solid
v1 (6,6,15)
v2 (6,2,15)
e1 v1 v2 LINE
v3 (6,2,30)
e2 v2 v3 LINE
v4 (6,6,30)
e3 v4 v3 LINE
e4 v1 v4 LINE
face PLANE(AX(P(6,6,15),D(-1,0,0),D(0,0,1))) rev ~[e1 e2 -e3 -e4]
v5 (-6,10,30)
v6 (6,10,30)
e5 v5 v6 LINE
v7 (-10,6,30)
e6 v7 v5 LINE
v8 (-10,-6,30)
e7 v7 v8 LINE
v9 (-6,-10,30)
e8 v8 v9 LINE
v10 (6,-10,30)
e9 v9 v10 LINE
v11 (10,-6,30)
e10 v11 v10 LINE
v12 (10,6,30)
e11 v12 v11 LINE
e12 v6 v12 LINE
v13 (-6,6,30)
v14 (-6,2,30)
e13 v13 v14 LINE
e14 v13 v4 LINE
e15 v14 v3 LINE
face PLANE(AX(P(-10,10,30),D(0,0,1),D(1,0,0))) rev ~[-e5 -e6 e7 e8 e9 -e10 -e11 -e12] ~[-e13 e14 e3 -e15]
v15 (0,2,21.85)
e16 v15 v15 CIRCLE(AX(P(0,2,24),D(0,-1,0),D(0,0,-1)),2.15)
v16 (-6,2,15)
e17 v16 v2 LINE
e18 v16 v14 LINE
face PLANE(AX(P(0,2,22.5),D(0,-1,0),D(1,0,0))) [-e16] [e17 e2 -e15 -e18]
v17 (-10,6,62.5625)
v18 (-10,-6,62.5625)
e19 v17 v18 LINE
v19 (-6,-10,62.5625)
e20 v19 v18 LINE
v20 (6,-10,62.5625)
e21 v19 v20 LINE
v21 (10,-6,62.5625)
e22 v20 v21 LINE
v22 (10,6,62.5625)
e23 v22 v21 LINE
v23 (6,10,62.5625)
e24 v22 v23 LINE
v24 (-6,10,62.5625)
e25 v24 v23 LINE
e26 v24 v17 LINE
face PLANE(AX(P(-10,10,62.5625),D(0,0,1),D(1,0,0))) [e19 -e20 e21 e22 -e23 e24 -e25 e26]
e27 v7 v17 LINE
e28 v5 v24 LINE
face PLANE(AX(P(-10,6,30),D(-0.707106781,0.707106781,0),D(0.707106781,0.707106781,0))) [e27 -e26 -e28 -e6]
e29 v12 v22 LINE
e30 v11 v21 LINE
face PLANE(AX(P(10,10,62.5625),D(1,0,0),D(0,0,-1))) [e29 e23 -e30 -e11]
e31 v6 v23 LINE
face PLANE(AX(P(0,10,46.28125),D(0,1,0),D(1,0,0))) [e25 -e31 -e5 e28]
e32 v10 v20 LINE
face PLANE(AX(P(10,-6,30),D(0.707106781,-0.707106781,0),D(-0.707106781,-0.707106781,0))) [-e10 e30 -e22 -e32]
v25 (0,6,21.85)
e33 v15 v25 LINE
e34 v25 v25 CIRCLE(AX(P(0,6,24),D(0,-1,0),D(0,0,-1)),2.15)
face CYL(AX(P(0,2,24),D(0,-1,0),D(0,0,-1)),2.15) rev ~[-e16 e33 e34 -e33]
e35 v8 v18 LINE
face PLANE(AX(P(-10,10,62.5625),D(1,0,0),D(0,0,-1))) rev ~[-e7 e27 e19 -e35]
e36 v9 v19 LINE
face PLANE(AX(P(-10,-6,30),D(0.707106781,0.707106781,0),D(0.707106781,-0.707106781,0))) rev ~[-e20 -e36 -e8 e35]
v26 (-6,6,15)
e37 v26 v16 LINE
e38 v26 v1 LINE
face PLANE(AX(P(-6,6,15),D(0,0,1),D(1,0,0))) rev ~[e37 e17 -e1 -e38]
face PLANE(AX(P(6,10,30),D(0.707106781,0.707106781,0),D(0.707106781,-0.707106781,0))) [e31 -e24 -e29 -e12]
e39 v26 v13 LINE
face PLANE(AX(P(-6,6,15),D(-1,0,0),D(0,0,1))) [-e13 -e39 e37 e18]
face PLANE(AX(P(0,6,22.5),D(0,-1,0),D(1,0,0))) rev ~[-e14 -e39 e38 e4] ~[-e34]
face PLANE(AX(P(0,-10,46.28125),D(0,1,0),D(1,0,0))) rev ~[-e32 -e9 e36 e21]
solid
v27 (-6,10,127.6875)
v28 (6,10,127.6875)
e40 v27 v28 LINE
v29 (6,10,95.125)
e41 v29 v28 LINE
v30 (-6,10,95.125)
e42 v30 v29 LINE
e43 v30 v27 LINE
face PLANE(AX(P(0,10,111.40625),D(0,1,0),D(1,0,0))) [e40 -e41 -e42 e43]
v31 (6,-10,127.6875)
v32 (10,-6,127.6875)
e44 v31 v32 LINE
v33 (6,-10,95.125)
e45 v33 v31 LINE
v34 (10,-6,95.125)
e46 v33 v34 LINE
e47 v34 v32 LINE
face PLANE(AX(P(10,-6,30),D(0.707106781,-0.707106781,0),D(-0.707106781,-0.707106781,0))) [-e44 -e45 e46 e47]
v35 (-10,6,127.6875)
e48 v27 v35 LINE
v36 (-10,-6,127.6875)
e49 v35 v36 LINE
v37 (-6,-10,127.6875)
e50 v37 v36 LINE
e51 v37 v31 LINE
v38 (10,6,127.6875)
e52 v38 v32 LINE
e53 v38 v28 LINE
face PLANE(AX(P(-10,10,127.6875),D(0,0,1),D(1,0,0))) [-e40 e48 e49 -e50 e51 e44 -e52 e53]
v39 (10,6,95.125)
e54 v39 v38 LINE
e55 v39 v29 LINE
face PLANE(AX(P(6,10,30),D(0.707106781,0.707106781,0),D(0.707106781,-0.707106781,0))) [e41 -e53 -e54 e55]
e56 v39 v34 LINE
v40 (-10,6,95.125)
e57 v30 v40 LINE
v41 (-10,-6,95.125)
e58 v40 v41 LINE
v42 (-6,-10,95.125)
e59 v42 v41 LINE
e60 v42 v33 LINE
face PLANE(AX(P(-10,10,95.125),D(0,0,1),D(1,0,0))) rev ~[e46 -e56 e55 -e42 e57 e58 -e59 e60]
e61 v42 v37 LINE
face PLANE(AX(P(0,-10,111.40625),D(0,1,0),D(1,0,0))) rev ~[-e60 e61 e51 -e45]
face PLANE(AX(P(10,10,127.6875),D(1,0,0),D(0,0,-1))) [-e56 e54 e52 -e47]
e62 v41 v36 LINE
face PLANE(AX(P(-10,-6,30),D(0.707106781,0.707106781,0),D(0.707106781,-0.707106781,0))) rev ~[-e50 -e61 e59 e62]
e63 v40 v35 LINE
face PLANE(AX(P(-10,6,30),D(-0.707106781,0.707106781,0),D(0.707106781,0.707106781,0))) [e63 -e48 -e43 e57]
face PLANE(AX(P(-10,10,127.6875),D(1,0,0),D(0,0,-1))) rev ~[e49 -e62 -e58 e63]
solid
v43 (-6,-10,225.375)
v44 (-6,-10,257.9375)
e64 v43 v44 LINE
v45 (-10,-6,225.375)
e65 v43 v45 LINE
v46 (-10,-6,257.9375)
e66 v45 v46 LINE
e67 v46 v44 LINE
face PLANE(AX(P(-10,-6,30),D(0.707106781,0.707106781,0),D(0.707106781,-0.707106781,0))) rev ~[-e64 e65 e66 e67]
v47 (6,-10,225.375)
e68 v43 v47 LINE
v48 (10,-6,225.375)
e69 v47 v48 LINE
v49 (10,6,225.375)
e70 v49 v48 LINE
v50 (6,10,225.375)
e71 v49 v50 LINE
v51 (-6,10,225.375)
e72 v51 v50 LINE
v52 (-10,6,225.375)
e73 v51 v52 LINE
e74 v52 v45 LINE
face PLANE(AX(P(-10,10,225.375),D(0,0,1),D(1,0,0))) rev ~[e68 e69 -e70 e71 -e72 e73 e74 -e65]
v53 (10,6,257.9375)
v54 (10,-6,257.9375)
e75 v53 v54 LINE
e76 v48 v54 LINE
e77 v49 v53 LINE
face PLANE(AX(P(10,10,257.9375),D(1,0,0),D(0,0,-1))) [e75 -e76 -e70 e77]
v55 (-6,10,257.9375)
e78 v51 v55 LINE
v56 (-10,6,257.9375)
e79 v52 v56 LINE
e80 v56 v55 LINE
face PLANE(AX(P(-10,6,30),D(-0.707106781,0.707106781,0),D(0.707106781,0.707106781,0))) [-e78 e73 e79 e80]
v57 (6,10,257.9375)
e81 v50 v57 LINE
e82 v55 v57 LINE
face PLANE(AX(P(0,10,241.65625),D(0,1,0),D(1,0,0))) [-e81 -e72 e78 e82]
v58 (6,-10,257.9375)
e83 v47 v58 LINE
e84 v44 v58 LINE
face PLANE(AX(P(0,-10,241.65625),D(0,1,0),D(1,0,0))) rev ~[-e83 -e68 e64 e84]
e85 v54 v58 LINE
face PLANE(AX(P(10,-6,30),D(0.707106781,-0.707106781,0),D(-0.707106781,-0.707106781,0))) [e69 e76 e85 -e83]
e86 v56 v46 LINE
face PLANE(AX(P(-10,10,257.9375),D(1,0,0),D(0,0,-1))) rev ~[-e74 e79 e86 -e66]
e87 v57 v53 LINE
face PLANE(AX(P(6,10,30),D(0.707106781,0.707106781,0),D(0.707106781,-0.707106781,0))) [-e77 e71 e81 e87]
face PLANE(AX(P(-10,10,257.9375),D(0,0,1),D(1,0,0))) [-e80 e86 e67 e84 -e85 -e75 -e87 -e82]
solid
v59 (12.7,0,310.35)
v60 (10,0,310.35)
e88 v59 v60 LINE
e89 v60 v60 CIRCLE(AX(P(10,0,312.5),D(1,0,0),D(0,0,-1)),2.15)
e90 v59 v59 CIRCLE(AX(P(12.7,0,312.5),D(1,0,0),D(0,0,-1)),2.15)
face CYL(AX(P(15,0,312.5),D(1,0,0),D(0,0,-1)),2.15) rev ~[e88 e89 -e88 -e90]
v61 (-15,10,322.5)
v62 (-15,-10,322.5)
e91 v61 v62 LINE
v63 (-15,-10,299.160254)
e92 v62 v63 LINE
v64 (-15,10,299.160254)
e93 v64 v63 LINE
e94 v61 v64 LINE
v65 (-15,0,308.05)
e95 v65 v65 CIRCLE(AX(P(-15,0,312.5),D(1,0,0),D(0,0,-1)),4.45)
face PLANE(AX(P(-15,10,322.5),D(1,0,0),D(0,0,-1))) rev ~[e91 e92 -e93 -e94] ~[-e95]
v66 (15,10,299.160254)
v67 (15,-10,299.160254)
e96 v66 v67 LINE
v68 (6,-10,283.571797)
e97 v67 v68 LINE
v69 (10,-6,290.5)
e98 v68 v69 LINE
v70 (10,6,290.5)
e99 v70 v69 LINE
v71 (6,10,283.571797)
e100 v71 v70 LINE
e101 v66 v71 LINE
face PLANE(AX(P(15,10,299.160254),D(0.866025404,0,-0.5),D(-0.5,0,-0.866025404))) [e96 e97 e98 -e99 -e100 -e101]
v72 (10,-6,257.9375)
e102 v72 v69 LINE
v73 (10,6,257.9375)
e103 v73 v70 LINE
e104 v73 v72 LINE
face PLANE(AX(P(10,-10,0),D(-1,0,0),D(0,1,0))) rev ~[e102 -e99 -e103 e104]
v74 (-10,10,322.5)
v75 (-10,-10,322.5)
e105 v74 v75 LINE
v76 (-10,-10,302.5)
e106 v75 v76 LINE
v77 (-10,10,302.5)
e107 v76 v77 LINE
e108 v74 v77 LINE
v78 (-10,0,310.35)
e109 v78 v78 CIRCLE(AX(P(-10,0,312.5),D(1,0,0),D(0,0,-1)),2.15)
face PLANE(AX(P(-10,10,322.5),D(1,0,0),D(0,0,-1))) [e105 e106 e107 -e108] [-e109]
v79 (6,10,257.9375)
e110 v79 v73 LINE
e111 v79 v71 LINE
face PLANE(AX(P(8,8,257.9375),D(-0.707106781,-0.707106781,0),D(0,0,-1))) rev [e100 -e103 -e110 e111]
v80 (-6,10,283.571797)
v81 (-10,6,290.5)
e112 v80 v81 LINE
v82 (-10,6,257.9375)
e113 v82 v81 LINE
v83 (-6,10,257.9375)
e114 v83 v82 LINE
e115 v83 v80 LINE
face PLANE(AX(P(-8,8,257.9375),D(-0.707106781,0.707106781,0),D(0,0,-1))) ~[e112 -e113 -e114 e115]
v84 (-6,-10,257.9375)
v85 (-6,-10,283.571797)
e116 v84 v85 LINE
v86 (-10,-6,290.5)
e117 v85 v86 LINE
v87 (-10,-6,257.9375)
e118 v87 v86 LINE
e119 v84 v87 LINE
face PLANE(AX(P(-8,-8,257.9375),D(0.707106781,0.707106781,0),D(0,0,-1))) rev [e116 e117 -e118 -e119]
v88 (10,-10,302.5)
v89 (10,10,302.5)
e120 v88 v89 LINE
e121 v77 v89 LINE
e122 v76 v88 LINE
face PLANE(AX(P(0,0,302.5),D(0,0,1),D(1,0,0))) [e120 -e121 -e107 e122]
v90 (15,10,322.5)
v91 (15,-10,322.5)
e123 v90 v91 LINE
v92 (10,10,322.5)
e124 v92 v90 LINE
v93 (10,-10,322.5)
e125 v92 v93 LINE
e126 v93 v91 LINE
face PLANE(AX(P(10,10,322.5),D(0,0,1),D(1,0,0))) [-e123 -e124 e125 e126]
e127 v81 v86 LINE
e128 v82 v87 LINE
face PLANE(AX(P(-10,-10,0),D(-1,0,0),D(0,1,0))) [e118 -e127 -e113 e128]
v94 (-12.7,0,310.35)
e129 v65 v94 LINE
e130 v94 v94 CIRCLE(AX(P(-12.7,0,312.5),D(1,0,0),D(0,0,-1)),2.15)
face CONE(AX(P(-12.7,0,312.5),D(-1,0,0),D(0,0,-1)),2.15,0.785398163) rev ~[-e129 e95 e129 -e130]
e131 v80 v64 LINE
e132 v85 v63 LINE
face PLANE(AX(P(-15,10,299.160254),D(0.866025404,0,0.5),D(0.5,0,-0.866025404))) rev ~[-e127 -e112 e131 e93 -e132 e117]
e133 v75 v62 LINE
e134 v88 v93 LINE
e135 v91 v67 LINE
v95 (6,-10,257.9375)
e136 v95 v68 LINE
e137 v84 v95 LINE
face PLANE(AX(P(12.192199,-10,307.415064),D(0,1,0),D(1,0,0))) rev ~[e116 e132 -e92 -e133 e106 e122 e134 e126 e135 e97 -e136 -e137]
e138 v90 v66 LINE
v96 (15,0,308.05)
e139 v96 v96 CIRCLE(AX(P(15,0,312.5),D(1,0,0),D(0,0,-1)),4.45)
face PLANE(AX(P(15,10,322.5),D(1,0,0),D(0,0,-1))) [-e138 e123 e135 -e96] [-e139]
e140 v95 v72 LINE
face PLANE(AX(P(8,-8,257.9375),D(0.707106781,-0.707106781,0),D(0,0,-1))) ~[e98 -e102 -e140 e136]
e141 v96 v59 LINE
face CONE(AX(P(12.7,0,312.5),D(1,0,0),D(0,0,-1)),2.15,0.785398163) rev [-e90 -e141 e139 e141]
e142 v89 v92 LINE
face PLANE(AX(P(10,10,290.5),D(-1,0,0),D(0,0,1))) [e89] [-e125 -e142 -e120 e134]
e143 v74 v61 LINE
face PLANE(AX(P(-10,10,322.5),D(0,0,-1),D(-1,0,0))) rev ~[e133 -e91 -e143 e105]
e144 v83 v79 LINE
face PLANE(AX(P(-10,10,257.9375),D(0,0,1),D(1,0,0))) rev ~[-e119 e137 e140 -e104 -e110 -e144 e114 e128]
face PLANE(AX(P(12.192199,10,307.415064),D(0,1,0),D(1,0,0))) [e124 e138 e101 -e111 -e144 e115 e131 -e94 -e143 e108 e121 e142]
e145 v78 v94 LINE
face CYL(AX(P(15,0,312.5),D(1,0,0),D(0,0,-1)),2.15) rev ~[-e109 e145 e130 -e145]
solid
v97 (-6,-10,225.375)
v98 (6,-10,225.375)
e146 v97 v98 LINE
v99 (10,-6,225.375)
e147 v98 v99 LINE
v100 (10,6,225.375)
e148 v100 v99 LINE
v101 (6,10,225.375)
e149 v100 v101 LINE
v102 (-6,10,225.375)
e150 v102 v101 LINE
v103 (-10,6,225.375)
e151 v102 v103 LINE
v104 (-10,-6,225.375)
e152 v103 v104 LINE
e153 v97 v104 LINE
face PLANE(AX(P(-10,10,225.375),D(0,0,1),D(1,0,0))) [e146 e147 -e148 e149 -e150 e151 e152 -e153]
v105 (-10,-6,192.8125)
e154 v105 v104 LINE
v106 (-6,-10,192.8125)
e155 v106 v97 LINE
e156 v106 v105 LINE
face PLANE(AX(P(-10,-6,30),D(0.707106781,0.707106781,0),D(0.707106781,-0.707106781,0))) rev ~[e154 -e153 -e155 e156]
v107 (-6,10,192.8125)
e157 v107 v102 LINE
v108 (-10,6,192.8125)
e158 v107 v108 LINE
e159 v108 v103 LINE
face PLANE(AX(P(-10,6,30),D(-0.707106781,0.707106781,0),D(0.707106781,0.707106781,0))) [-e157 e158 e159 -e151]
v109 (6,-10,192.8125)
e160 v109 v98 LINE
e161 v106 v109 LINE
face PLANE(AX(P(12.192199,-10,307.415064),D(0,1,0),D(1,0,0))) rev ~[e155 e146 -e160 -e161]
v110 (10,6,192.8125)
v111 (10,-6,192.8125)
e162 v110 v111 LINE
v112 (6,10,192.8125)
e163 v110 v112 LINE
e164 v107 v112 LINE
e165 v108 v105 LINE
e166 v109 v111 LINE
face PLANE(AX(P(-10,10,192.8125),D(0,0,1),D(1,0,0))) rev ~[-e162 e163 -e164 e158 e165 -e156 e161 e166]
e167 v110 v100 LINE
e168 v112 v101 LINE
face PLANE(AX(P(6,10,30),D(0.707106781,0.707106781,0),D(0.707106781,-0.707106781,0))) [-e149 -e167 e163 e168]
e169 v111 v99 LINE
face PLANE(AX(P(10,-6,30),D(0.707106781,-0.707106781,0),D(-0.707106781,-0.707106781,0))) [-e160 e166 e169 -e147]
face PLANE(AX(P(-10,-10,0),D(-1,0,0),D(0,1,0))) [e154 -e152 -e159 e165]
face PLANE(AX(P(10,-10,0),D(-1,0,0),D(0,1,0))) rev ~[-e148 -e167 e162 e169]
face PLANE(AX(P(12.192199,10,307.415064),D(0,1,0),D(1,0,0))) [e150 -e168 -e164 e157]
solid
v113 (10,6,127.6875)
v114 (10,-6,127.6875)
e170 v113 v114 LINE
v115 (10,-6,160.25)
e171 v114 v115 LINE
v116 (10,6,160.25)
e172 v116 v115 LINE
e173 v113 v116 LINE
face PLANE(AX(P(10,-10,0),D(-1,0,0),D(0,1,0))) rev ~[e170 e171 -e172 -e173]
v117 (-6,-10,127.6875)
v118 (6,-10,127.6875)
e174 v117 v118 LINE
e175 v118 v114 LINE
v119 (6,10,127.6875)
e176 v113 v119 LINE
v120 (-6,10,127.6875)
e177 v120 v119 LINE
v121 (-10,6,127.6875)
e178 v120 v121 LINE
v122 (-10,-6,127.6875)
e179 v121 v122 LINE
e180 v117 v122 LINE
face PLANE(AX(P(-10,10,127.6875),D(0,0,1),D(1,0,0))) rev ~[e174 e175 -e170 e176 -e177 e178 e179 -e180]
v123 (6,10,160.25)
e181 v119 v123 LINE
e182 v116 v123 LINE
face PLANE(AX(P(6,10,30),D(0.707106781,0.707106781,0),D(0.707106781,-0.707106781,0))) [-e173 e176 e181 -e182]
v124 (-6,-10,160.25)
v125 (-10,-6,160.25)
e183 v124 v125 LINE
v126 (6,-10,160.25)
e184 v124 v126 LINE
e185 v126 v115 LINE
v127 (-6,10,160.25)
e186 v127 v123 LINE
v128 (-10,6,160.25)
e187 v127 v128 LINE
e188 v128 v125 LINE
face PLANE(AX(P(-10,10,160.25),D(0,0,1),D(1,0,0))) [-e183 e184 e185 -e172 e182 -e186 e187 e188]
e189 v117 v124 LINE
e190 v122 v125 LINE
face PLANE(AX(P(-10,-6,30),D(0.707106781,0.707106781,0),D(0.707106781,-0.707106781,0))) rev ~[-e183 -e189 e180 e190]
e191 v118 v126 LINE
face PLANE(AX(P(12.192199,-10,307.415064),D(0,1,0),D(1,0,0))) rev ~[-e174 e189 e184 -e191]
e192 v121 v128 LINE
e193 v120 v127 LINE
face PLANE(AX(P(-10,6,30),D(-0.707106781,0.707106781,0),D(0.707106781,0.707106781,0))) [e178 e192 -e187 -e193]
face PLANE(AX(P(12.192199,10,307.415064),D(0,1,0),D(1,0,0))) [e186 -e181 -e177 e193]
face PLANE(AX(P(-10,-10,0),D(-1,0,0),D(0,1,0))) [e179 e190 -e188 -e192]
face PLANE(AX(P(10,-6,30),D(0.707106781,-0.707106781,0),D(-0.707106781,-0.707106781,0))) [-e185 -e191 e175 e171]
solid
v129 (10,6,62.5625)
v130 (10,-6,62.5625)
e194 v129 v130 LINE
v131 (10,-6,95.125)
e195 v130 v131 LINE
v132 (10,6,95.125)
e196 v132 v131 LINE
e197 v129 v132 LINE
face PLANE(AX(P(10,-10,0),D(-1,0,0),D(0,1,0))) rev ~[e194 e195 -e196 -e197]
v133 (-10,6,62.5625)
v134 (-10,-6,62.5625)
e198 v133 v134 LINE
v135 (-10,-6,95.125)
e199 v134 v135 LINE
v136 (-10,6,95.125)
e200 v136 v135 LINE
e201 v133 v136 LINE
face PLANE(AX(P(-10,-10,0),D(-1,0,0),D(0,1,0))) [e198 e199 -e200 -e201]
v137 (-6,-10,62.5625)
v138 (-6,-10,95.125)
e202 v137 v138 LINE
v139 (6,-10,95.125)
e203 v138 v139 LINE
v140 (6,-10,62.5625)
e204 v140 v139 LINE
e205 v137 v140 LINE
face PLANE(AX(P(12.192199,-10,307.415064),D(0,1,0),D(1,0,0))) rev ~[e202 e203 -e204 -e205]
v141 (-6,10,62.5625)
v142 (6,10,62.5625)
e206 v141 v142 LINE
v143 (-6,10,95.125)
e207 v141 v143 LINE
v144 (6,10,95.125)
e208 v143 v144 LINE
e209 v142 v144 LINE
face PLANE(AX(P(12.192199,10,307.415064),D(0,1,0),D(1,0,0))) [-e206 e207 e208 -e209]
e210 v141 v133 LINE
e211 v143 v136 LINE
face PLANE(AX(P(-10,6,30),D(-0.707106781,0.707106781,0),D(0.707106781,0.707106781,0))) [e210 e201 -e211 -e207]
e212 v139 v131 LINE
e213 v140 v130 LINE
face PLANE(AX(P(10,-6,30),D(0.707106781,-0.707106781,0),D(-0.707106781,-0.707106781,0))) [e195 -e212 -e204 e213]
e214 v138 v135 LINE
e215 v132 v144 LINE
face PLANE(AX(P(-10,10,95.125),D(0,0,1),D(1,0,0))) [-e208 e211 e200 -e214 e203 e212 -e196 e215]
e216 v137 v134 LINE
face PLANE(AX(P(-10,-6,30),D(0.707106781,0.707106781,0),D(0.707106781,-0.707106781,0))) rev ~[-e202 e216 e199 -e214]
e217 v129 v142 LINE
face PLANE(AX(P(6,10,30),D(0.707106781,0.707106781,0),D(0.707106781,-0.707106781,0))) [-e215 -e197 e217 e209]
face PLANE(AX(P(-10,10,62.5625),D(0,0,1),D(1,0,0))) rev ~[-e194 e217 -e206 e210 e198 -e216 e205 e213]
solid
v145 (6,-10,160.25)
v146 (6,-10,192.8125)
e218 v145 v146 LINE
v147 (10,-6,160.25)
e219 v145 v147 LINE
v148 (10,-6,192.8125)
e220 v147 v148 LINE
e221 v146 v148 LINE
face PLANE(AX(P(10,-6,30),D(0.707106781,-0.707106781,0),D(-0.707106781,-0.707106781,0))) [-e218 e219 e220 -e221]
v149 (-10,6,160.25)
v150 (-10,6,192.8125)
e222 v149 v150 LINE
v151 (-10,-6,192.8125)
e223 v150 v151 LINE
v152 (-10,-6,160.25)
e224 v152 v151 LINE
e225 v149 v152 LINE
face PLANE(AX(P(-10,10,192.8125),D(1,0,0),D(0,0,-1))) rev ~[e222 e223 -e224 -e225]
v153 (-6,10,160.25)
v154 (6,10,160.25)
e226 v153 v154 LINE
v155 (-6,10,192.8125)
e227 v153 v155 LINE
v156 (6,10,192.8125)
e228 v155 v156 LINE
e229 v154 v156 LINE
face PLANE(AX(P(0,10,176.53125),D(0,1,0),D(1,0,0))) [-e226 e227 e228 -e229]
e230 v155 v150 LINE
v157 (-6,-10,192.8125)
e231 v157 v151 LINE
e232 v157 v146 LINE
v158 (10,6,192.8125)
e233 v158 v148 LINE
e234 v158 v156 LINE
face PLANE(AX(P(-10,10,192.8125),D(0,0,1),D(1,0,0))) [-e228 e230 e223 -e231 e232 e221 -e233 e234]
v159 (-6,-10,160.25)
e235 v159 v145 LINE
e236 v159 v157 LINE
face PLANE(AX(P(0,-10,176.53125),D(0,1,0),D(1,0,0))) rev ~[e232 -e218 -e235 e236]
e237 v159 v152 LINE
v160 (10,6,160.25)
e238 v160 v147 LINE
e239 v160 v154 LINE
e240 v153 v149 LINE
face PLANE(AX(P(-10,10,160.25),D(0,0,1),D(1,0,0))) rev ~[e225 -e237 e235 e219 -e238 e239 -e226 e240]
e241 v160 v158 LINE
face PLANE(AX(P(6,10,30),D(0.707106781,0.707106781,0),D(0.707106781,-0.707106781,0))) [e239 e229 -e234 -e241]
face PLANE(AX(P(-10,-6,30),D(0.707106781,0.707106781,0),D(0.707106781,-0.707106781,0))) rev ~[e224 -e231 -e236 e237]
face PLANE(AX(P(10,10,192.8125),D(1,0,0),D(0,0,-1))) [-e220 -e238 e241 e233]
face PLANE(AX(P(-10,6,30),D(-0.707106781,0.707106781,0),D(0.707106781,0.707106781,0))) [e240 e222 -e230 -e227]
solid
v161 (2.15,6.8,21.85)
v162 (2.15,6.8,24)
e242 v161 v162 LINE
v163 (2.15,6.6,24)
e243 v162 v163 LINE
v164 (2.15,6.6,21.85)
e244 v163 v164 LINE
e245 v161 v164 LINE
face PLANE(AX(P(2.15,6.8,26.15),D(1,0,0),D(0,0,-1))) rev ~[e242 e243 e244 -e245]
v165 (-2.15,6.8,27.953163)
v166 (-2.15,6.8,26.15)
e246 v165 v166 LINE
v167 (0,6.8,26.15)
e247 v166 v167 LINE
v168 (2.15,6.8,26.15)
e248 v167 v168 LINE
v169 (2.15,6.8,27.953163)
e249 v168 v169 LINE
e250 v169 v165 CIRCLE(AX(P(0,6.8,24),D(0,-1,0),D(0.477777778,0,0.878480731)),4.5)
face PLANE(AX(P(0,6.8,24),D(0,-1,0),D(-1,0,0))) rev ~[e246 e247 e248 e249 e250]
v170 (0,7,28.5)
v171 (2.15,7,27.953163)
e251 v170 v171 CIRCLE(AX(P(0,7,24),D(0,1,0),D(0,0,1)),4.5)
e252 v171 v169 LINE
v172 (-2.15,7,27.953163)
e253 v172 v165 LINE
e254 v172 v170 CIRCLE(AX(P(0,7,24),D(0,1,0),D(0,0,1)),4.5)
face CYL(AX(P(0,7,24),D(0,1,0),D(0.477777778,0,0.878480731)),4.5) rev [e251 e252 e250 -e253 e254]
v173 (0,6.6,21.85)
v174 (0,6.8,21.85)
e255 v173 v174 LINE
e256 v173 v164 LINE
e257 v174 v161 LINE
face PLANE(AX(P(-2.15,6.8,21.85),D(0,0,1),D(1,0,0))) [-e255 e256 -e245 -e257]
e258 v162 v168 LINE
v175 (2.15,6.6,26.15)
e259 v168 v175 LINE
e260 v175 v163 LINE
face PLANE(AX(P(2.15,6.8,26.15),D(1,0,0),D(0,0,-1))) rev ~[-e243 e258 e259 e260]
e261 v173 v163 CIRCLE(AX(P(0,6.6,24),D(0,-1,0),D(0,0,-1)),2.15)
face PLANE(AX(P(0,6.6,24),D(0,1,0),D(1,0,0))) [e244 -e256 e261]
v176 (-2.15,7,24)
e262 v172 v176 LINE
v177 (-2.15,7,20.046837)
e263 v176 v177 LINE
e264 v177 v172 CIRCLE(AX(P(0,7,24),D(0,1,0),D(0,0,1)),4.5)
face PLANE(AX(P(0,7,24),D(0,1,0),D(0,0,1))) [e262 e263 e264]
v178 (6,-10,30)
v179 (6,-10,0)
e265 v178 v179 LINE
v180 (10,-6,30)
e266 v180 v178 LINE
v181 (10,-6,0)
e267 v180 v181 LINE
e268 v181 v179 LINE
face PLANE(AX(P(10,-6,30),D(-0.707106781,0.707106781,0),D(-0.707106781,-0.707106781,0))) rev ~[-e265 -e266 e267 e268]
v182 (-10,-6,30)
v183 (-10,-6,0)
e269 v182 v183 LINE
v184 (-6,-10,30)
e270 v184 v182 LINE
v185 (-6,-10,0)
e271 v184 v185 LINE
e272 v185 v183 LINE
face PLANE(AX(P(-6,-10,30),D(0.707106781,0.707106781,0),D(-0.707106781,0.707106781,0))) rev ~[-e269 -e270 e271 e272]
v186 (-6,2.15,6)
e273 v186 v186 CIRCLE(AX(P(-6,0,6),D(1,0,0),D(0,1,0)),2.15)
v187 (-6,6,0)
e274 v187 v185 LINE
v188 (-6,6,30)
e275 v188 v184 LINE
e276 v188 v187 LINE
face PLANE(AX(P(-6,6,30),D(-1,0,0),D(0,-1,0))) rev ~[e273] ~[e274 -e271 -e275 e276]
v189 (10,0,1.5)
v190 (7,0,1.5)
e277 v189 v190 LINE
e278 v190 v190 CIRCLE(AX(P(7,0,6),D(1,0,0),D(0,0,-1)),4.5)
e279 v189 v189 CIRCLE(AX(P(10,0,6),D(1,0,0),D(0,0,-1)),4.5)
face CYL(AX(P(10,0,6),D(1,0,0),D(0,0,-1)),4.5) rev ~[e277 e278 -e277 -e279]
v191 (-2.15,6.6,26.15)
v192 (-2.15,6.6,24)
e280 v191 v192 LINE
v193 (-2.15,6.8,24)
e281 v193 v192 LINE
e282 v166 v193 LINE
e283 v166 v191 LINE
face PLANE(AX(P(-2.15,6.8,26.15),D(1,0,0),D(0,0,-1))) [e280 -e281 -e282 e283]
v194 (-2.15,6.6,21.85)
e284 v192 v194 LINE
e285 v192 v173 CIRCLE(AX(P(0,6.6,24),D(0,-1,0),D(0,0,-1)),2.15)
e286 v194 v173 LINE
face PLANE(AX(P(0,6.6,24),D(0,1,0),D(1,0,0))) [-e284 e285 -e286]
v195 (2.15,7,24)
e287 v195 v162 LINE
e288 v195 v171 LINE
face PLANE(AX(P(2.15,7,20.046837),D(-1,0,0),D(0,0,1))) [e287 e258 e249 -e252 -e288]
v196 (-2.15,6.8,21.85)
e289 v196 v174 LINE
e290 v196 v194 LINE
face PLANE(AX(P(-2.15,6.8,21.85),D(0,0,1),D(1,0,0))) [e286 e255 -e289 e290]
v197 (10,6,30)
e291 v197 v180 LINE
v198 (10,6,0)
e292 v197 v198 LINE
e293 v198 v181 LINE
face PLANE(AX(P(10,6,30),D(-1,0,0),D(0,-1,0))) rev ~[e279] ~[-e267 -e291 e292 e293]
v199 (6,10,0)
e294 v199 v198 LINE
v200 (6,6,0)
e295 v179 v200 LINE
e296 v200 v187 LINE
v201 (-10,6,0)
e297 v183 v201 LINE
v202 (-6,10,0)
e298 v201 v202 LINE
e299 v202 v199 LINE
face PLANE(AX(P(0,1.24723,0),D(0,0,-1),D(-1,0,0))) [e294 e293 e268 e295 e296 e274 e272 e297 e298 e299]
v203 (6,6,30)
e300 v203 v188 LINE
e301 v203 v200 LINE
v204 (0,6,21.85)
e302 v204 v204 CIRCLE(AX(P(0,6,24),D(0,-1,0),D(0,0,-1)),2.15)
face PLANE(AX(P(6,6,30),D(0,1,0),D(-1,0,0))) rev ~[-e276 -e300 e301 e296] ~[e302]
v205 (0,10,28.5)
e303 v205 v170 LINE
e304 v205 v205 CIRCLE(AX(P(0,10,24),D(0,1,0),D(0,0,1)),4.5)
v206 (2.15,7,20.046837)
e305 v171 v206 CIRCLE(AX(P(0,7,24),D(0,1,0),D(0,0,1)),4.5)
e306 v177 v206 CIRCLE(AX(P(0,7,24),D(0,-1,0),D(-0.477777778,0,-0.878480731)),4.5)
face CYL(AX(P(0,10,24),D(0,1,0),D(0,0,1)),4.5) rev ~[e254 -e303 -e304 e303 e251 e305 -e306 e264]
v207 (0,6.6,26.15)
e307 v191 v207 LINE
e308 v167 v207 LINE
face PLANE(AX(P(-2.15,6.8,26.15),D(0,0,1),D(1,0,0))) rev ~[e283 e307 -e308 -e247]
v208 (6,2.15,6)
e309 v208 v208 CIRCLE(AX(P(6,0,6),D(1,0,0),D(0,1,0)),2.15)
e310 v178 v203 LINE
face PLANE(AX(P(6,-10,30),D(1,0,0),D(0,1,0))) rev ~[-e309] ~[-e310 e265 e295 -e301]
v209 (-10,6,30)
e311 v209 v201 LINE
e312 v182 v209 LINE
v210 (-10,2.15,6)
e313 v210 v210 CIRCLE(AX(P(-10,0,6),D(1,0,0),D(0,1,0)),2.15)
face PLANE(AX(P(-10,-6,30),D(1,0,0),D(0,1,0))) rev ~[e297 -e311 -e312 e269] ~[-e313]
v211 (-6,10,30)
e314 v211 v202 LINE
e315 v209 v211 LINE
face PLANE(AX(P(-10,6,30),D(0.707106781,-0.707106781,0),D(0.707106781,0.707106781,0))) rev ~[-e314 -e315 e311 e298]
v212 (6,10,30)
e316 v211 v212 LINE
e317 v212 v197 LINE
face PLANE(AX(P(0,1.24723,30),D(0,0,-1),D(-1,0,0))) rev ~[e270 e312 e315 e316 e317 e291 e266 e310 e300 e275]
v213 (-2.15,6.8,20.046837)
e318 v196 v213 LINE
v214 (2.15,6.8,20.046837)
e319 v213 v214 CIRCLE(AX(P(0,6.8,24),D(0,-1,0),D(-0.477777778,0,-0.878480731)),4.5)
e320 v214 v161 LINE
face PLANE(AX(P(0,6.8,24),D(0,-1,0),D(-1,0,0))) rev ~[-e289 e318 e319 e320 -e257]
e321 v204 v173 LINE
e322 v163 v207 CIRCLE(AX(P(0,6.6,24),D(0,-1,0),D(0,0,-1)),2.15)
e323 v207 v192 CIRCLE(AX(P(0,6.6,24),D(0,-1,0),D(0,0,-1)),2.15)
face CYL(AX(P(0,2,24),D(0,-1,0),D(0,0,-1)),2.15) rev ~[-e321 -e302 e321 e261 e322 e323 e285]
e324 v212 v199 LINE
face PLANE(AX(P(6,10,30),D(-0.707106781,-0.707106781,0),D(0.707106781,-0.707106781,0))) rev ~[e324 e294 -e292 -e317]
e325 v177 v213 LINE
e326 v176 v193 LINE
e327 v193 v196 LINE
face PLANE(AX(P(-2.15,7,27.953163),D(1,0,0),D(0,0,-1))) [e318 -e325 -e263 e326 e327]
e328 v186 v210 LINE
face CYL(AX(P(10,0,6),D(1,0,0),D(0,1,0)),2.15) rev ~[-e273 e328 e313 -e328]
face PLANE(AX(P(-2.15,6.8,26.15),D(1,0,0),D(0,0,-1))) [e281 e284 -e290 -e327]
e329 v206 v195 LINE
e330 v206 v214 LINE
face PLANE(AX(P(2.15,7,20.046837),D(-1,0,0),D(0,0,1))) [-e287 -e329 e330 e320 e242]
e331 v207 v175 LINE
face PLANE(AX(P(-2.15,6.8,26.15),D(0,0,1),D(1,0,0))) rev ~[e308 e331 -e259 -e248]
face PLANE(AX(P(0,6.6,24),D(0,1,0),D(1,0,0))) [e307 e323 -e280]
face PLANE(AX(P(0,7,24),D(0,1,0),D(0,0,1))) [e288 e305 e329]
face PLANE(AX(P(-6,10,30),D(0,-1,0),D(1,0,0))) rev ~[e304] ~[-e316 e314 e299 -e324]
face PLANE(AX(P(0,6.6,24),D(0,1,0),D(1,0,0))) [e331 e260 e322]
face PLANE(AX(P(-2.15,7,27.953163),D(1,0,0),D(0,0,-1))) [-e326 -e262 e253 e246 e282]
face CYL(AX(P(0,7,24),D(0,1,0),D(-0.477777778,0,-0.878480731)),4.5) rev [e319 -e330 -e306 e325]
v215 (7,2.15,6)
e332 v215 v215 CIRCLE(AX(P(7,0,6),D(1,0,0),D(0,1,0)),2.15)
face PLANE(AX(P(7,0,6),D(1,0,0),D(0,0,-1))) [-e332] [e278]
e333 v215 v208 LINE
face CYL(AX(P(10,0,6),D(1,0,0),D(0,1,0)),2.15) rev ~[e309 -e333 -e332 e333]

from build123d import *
from build123d.topology import SkipClean

# Parameters (mm, degrees)
SKETCH1_W             = 20
SKETCH1_H             = 20
BOSS_EXTRUDE1_DEPTH   = 302.5
BOSS_EXTRUDE2_DEPTH   = 20
SKETCH3_R             = 2.15
CUT_EXTRUDE1_DEPTH    = 325.046678736
SKETCH4_W             = 4
SKETCH4_H             = 30
CUT_EXTRUDE2_DEPTH    = 324.467540875
CHAMFER1_SIZE         = 2.3
SKETCH5_W             = 15
SKETCH5_H             = 8
CUT_EXTRUDE3_DEPTH    = 324.337671792
SKETCH6_R             = 3.2
CUT_EXTRUDE4_DEPTH    = 324.071586494
SKETCH7_R             = 3.2
CUT_EXTRUDE5_DEPTH    = 324.337671792
SKETCH10_W            = 20
SKETCH10_H            = 32.5625
CUT_EXTRUDE7_DEPTH    = 324.467540875
SKETCH11_W            = 20
SKETCH11_H            = 32.5625
BOSS_EXTRUDE3_DEPTH   = 20
BOSS_EXTRUDE3_2_DEPTH = 20
BOSS_EXTRUDE3_3_DEPTH = 20
BOSS_EXTRUDE3_4_DEPTH = 20
CHAMFER3_SIZE         = 4
CUT_EXTRUDE8_DEPTH    = 227.9375
SKETCH13_W            = 15
SKETCH13_H            = 4
CUT_EXTRUDE9_DEPTH    = 324.337671792
SKETCH15_W            = 12
SKETCH15_H            = 16
CUT_EXTRUDE10_DEPTH   = 30
BOSS_EXTRUDE4_DEPTH   = 30
SKETCH16_W            = 12
SKETCH16_H            = 15
BOSS_EXTRUDE5_DEPTH   = 4
SKETCH17_R            = 2.15
CUT_EXTRUDE11_DEPTH   = 324.071586494
SKETCH18_R            = 2.15
CUT_EXTRUDE12_DEPTH   = 324.622078975
SKETCH19_R            = 4.5
CUT_EXTRUDE13_DEPTH   = 3
SKETCH20_R            = 4.5
CUT_EXTRUDE14_DEPTH   = 3
CUT_EXTRUDE15_DEPTH   = 0.2
SKETCH22_W            = 4.3
SKETCH22_H            = 4.3
CUT_EXTRUDE16_DEPTH   = 0.2


with BuildPart() as part:
    # Sketch1 → Boss-Extrude1 (new body)
    with BuildSketch(Plane.XY):
        Rectangle(SKETCH1_W, SKETCH1_H)
    extrude(amount=BOSS_EXTRUDE1_DEPTH)

    # Sketch2 → Boss-Extrude2 (add)
    with BuildSketch(Plane(origin=(0, 10, 0), x_dir=(1, 0, 0), z_dir=(0, 1, 0))):
        Polygon((10, -302.5), (10, -322.5), (15, -322.5), (15, -299.160254038), (10, -290.5), align=None)
        Polygon((-10, -290.5), (-10, -302.5), (-10, -322.5), (-15, -322.5), (-15, -299.160254038), align=None)
    extrude(amount=-BOSS_EXTRUDE2_DEPTH)

    # Sketch3 → Cut-Extrude1 (cut, through all)
    with BuildSketch(Plane(origin=(15, 0, 0), x_dir=(0, 0, -1), z_dir=(1, 0, 0))):
        with Locations((-312.5, 0)):
            Circle(SKETCH3_R)
    extrude(amount=-CUT_EXTRUDE1_DEPTH, mode=Mode.SUBTRACT)

    # Sketch4 → Cut-Extrude2 (cut, through all)
    with BuildSketch(Plane(origin=(0, 10, 0), x_dir=(1, 0, 0), z_dir=(0, 1, 0))):
        with Locations((-8, -15)):
            Rectangle(SKETCH4_W, SKETCH4_H)
        with Locations((8, -15)):
            Rectangle(SKETCH4_W, SKETCH4_H)
    extrude(amount=-CUT_EXTRUDE2_DEPTH, mode=Mode.SUBTRACT)

    # Chamfer1
    chamfer1_edges = [part.edges().sort_by_distance(p)[0] for p in [
        (-15, 0, 314.65),
        (15, 0, 314.65),
    ]]
    chamfer(chamfer1_edges, length=CHAMFER1_SIZE)

    # Sketch5 → Cut-Extrude3 (cut, through all)
    with BuildSketch(Plane(origin=(6, 0, 0), x_dir=(0, 0, -1), z_dir=(1, 0, 0))):
        with Locations((-7.5, 6)):
            Rectangle(SKETCH5_W, SKETCH5_H)
    extrude(amount=-CUT_EXTRUDE3_DEPTH, mode=Mode.SUBTRACT)

    # Sketch6 → Cut-Extrude4 (cut, through all)
    with BuildSketch(Plane(origin=(0, 2, 0), x_dir=(1, 0, 0), z_dir=(0, 1, 0))):
        with Locations(Location((0, -6, 0), (0, 0, 270))):
            Circle(SKETCH6_R)
    extrude(amount=-CUT_EXTRUDE4_DEPTH, mode=Mode.SUBTRACT)

    # Sketch7 → Cut-Extrude5 (cut, through all)
    with BuildSketch(Plane(origin=(6, 0, 0), x_dir=(0, 0, -1), z_dir=(1, 0, 0))):
        with Locations((-24, 0)):
            Circle(SKETCH7_R)
    extrude(amount=-CUT_EXTRUDE5_DEPTH, mode=Mode.SUBTRACT)

    # Sketch10 → Cut-Extrude7 (cut, through all)
    with BuildSketch(Plane(origin=(0, 10, 0), x_dir=(1, 0, 0), z_dir=(0, 1, 0))):
        with Locations((0, -46.28125)):
            Rectangle(SKETCH10_W, SKETCH10_H)
        with Locations((0, -111.40625)):
            Rectangle(SKETCH10_W, SKETCH10_H)
        with Locations((0, -176.53125)):
            Rectangle(SKETCH10_W, SKETCH10_H)
        with Locations((0, -241.65625)):
            Rectangle(SKETCH10_W, SKETCH10_H)
    extrude(amount=-CUT_EXTRUDE7_DEPTH, mode=Mode.SUBTRACT)


with BuildPart() as cut_extrude7_piece_1:
    # of the separate pieces the step leaves, piece 1, a body of its own (cut_extrude7_pieces)
    add(part.part.solids().sort_by_distance((15, 0, 308.05))[0])

    # Chamfer3
    chamfer3_edges = [cut_extrude7_piece_1.edges().sort_by_distance(p)[0] for p in [
        (10, 10, 274.21875),
        (-10, 10, 274.21875),
        (-10, -10, 274.21875),
        (10, -10, 274.21875),
    ]]
    chamfer(chamfer3_edges, length=CHAMFER3_SIZE)


with BuildPart() as cut_extrude7_piece_2:
    # of the separate pieces the step leaves, piece 2, a body of its own (cut_extrude7_pieces)
    add(part.part.solids().sort_by_distance((10, 10, 192.8125))[0])


with BuildPart() as cut_extrude7_piece_3:
    # of the separate pieces the step leaves, piece 3, a body of its own (cut_extrude7_pieces)
    add(part.part.solids().sort_by_distance((10, 10, 62.5625))[0])


with BuildPart() as cut_extrude7_piece_4:
    # of the separate pieces the step leaves, piece 4, a body of its own (cut_extrude7_pieces)
    add(part.part.solids().sort_by_distance((-10, 10, 127.6875))[0])


with BuildPart() as cut_extrude7_piece_5:
    # of the separate pieces the step leaves, piece 5, a body of its own (cut_extrude7_pieces)
    add(part.part.solids().sort_by_distance((6, 10, 15))[0])

    # Sketch13 → Cut-Extrude9 (cut, through all)
    with BuildSketch(Plane(origin=(6, 0, 0), x_dir=(0, 0, -1), z_dir=(1, 0, 0))):
        with Locations((-22.5, 8)):
            Rectangle(SKETCH13_W, SKETCH13_H)
    extrude(amount=-CUT_EXTRUDE9_DEPTH, mode=Mode.SUBTRACT)

    # Sketch15 → Cut-Extrude10 (cut)
    with BuildSketch(Plane(origin=(0, 0, 0), x_dir=(-1, 0, 0), z_dir=(0, 0, -1))):
        with Locations((0, -2)):
            Rectangle(SKETCH15_W, SKETCH15_H)
    extrude(amount=-CUT_EXTRUDE10_DEPTH, mode=Mode.SUBTRACT)


with BuildPart() as body_6:
    # Sketch11 → Boss-Extrude3 (new body)
    with BuildSketch(Plane(origin=(0, 10, 0), x_dir=(1, 0, 0), z_dir=(0, 1, 0))):
        with Locations((0, -46.28125)):
            Rectangle(SKETCH11_W, SKETCH11_H)
    extrude(amount=-BOSS_EXTRUDE3_DEPTH)


with BuildPart() as body_7:
    # Sketch11 → Boss-Extrude3 2 (new body)
    with BuildSketch(Plane(origin=(0, 10, 0), x_dir=(1, 0, 0), z_dir=(0, 1, 0))):
        with Locations((0, -111.40625)):
            Rectangle(SKETCH11_W, SKETCH11_H)
    extrude(amount=-BOSS_EXTRUDE3_2_DEPTH)


with BuildPart() as body_8:
    # Sketch11 → Boss-Extrude3 3 (new body)
    with BuildSketch(Plane(origin=(0, 10, 0), x_dir=(1, 0, 0), z_dir=(0, 1, 0))):
        with Locations((0, -176.53125)):
            Rectangle(SKETCH11_W, SKETCH11_H)
    extrude(amount=-BOSS_EXTRUDE3_3_DEPTH)


with BuildPart() as body_9:
    # Sketch11 → Boss-Extrude3 4 (new body)
    with BuildSketch(Plane(origin=(0, 10, 0), x_dir=(1, 0, 0), z_dir=(0, 1, 0))):
        with Locations((0, -241.65625)):
            Rectangle(SKETCH11_W, SKETCH11_H)
    extrude(amount=-BOSS_EXTRUDE3_4_DEPTH)


with BuildPart() as cut_extrude8_tool:
    # Sketch12 → Cut-Extrude8 (new body)
    with BuildSketch(Plane(origin=(0, 0, 30), x_dir=(-1, 0, 0), z_dir=(0, 0, -1))):
        Polygon((-10, 10), (-6, 10), (-10, 6), align=None)
        Polygon((-10, -10), (-10, -6), (-6, -10), align=None)
        Polygon((6, 10), (10, 10), (10, 6), align=None)
        Polygon((10, -10), (10, -6), (6, -10), align=None)
    extrude(amount=-CUT_EXTRUDE8_DEPTH)


with BuildPart() as cut_extrude7_piece_2_1:
    add(cut_extrude7_piece_2.part)

    # Cut-Extrude8: cut by cut_extrude8_tool
    add(cut_extrude8_tool.part, mode=Mode.SUBTRACT)


with BuildPart() as cut_extrude7_piece_3_1:
    add(cut_extrude7_piece_3.part)

    # Cut-Extrude8: cut by cut_extrude8_tool
    add(cut_extrude8_tool.part, mode=Mode.SUBTRACT)


with BuildPart() as cut_extrude7_piece_4_1:
    add(cut_extrude7_piece_4.part)

    # Cut-Extrude8: cut by cut_extrude8_tool
    add(cut_extrude8_tool.part, mode=Mode.SUBTRACT)


with BuildPart() as body_6_1:
    add(body_6.part)

    # Cut-Extrude8: cut by cut_extrude8_tool
    add(cut_extrude8_tool.part, mode=Mode.SUBTRACT)

    # Sketch16 → Boss-Extrude5 (add)
    with BuildSketch(Plane.XZ.offset(-6)):
        with Locations((0, 22.5)):
            Rectangle(SKETCH16_W, SKETCH16_H)
    extrude(amount=BOSS_EXTRUDE5_DEPTH)


with BuildPart() as body_7_1:
    add(body_7.part)

    # Cut-Extrude8: cut by cut_extrude8_tool
    add(cut_extrude8_tool.part, mode=Mode.SUBTRACT)


with BuildPart() as body_8_1:
    add(body_8.part)

    # Cut-Extrude8: cut by cut_extrude8_tool
    add(cut_extrude8_tool.part, mode=Mode.SUBTRACT)


with BuildPart() as body_9_1:
    add(body_9.part)

    # Cut-Extrude8: cut by cut_extrude8_tool
    add(cut_extrude8_tool.part, mode=Mode.SUBTRACT)


with BuildPart() as body_9_2:
    # Sketch14 → Boss-Extrude4 (new body)
    with BuildSketch(Plane(origin=(0, 0, 30), x_dir=(-1, 0, 0), z_dir=(0, 0, -1))):
        Polygon((-6, -10), (-6, 6), (6, 6), (6, -10), (10, -6), (10, 6), (6, 10), (-6, 10), (-10, 6), (-10, -6), align=None)
    extrude(amount=BOSS_EXTRUDE4_DEPTH)


with BuildPart() as cut_extrude11_tool:
    # Sketch17 → Cut-Extrude11 (new, through all)
    with BuildSketch(Plane.XZ.offset(-2)):
        with Locations(Location((0, 24, 0), (0, 0, 270))):
            Circle(SKETCH17_R)
    extrude(amount=-CUT_EXTRUDE11_DEPTH)


with BuildPart() as body_6_2:
    add(body_6_1.part)

    # Cut-Extrude11: cut by cut_extrude11_tool
    add(cut_extrude11_tool.part, mode=Mode.SUBTRACT)


with BuildPart() as body_9_2_1:
    add(body_9_2.part)

    # Cut-Extrude11: cut by cut_extrude11_tool
    add(cut_extrude11_tool.part, mode=Mode.SUBTRACT)

    # Sketch18 → Cut-Extrude12 (cut, through all)
    with BuildSketch(Plane(origin=(10, 0, 0), x_dir=(0, 0, -1), z_dir=(1, 0, 0))):
        with Locations(Location((-6, 0, 0), (0, 0, 90))):
            Circle(SKETCH18_R)
    extrude(amount=-CUT_EXTRUDE12_DEPTH, mode=Mode.SUBTRACT)

    # Sketch19 → Cut-Extrude13 (cut)
    with BuildSketch(Plane(origin=(10, 0, 0), x_dir=(0, 0, -1), z_dir=(1, 0, 0))):
        with Locations((-6, 0)):
            Circle(SKETCH19_R)
    extrude(amount=-CUT_EXTRUDE13_DEPTH, mode=Mode.SUBTRACT)

    # Sketch20 → Cut-Extrude14 (cut)
    with BuildSketch(Plane(origin=(0, 10, 0), x_dir=(1, 0, 0), z_dir=(0, 1, 0))):
        with Locations(Location((0, -24, 0), (0, 0, 270))):
            Circle(SKETCH20_R)
    extrude(amount=-CUT_EXTRUDE14_DEPTH, mode=Mode.SUBTRACT)

    # Sketch21 → Cut-Extrude15 (cut)
    with SkipClean():  # the faces are left unmerged after this step: merging them gives an invalid solid
        with BuildSketch(Plane(origin=(0, 7, 0), x_dir=(1, 0, 0), z_dir=(0, 1, 0))):
            with BuildLine():
                Line((-2.15, -27.95316329), (-2.15, -20.04683671))
                ThreePointArc((-2.15, -20.04683671), (0, -19.5), (2.15, -20.04683671))
                Line((2.15, -20.04683671), (2.15, -27.95316329))
                ThreePointArc((2.15, -27.95316329), (0, -28.5), (-2.15, -27.95316329))
            make_face()
        extrude(amount=-CUT_EXTRUDE15_DEPTH, mode=Mode.SUBTRACT)

    # Sketch22 → Cut-Extrude16 (cut)
    with SkipClean():  # the faces are left unmerged after this step: merging them gives an invalid solid
        with BuildSketch(Plane(origin=(0, 6.8, 0), x_dir=(1, 0, 0), z_dir=(0, 1, 0))):
            with Locations((0, -24)):
                Rectangle(SKETCH22_W, SKETCH22_H)
        extrude(amount=-CUT_EXTRUDE16_DEPTH, mode=Mode.SUBTRACT)


solid = Compound([cut_extrude7_piece_1.part, cut_extrude7_piece_2_1.part, cut_extrude7_piece_3_1.part, cut_extrude7_piece_4_1.part, body_7_1.part, body_8_1.part, body_9_1.part, body_6_2.part, body_9_2_1.part])
